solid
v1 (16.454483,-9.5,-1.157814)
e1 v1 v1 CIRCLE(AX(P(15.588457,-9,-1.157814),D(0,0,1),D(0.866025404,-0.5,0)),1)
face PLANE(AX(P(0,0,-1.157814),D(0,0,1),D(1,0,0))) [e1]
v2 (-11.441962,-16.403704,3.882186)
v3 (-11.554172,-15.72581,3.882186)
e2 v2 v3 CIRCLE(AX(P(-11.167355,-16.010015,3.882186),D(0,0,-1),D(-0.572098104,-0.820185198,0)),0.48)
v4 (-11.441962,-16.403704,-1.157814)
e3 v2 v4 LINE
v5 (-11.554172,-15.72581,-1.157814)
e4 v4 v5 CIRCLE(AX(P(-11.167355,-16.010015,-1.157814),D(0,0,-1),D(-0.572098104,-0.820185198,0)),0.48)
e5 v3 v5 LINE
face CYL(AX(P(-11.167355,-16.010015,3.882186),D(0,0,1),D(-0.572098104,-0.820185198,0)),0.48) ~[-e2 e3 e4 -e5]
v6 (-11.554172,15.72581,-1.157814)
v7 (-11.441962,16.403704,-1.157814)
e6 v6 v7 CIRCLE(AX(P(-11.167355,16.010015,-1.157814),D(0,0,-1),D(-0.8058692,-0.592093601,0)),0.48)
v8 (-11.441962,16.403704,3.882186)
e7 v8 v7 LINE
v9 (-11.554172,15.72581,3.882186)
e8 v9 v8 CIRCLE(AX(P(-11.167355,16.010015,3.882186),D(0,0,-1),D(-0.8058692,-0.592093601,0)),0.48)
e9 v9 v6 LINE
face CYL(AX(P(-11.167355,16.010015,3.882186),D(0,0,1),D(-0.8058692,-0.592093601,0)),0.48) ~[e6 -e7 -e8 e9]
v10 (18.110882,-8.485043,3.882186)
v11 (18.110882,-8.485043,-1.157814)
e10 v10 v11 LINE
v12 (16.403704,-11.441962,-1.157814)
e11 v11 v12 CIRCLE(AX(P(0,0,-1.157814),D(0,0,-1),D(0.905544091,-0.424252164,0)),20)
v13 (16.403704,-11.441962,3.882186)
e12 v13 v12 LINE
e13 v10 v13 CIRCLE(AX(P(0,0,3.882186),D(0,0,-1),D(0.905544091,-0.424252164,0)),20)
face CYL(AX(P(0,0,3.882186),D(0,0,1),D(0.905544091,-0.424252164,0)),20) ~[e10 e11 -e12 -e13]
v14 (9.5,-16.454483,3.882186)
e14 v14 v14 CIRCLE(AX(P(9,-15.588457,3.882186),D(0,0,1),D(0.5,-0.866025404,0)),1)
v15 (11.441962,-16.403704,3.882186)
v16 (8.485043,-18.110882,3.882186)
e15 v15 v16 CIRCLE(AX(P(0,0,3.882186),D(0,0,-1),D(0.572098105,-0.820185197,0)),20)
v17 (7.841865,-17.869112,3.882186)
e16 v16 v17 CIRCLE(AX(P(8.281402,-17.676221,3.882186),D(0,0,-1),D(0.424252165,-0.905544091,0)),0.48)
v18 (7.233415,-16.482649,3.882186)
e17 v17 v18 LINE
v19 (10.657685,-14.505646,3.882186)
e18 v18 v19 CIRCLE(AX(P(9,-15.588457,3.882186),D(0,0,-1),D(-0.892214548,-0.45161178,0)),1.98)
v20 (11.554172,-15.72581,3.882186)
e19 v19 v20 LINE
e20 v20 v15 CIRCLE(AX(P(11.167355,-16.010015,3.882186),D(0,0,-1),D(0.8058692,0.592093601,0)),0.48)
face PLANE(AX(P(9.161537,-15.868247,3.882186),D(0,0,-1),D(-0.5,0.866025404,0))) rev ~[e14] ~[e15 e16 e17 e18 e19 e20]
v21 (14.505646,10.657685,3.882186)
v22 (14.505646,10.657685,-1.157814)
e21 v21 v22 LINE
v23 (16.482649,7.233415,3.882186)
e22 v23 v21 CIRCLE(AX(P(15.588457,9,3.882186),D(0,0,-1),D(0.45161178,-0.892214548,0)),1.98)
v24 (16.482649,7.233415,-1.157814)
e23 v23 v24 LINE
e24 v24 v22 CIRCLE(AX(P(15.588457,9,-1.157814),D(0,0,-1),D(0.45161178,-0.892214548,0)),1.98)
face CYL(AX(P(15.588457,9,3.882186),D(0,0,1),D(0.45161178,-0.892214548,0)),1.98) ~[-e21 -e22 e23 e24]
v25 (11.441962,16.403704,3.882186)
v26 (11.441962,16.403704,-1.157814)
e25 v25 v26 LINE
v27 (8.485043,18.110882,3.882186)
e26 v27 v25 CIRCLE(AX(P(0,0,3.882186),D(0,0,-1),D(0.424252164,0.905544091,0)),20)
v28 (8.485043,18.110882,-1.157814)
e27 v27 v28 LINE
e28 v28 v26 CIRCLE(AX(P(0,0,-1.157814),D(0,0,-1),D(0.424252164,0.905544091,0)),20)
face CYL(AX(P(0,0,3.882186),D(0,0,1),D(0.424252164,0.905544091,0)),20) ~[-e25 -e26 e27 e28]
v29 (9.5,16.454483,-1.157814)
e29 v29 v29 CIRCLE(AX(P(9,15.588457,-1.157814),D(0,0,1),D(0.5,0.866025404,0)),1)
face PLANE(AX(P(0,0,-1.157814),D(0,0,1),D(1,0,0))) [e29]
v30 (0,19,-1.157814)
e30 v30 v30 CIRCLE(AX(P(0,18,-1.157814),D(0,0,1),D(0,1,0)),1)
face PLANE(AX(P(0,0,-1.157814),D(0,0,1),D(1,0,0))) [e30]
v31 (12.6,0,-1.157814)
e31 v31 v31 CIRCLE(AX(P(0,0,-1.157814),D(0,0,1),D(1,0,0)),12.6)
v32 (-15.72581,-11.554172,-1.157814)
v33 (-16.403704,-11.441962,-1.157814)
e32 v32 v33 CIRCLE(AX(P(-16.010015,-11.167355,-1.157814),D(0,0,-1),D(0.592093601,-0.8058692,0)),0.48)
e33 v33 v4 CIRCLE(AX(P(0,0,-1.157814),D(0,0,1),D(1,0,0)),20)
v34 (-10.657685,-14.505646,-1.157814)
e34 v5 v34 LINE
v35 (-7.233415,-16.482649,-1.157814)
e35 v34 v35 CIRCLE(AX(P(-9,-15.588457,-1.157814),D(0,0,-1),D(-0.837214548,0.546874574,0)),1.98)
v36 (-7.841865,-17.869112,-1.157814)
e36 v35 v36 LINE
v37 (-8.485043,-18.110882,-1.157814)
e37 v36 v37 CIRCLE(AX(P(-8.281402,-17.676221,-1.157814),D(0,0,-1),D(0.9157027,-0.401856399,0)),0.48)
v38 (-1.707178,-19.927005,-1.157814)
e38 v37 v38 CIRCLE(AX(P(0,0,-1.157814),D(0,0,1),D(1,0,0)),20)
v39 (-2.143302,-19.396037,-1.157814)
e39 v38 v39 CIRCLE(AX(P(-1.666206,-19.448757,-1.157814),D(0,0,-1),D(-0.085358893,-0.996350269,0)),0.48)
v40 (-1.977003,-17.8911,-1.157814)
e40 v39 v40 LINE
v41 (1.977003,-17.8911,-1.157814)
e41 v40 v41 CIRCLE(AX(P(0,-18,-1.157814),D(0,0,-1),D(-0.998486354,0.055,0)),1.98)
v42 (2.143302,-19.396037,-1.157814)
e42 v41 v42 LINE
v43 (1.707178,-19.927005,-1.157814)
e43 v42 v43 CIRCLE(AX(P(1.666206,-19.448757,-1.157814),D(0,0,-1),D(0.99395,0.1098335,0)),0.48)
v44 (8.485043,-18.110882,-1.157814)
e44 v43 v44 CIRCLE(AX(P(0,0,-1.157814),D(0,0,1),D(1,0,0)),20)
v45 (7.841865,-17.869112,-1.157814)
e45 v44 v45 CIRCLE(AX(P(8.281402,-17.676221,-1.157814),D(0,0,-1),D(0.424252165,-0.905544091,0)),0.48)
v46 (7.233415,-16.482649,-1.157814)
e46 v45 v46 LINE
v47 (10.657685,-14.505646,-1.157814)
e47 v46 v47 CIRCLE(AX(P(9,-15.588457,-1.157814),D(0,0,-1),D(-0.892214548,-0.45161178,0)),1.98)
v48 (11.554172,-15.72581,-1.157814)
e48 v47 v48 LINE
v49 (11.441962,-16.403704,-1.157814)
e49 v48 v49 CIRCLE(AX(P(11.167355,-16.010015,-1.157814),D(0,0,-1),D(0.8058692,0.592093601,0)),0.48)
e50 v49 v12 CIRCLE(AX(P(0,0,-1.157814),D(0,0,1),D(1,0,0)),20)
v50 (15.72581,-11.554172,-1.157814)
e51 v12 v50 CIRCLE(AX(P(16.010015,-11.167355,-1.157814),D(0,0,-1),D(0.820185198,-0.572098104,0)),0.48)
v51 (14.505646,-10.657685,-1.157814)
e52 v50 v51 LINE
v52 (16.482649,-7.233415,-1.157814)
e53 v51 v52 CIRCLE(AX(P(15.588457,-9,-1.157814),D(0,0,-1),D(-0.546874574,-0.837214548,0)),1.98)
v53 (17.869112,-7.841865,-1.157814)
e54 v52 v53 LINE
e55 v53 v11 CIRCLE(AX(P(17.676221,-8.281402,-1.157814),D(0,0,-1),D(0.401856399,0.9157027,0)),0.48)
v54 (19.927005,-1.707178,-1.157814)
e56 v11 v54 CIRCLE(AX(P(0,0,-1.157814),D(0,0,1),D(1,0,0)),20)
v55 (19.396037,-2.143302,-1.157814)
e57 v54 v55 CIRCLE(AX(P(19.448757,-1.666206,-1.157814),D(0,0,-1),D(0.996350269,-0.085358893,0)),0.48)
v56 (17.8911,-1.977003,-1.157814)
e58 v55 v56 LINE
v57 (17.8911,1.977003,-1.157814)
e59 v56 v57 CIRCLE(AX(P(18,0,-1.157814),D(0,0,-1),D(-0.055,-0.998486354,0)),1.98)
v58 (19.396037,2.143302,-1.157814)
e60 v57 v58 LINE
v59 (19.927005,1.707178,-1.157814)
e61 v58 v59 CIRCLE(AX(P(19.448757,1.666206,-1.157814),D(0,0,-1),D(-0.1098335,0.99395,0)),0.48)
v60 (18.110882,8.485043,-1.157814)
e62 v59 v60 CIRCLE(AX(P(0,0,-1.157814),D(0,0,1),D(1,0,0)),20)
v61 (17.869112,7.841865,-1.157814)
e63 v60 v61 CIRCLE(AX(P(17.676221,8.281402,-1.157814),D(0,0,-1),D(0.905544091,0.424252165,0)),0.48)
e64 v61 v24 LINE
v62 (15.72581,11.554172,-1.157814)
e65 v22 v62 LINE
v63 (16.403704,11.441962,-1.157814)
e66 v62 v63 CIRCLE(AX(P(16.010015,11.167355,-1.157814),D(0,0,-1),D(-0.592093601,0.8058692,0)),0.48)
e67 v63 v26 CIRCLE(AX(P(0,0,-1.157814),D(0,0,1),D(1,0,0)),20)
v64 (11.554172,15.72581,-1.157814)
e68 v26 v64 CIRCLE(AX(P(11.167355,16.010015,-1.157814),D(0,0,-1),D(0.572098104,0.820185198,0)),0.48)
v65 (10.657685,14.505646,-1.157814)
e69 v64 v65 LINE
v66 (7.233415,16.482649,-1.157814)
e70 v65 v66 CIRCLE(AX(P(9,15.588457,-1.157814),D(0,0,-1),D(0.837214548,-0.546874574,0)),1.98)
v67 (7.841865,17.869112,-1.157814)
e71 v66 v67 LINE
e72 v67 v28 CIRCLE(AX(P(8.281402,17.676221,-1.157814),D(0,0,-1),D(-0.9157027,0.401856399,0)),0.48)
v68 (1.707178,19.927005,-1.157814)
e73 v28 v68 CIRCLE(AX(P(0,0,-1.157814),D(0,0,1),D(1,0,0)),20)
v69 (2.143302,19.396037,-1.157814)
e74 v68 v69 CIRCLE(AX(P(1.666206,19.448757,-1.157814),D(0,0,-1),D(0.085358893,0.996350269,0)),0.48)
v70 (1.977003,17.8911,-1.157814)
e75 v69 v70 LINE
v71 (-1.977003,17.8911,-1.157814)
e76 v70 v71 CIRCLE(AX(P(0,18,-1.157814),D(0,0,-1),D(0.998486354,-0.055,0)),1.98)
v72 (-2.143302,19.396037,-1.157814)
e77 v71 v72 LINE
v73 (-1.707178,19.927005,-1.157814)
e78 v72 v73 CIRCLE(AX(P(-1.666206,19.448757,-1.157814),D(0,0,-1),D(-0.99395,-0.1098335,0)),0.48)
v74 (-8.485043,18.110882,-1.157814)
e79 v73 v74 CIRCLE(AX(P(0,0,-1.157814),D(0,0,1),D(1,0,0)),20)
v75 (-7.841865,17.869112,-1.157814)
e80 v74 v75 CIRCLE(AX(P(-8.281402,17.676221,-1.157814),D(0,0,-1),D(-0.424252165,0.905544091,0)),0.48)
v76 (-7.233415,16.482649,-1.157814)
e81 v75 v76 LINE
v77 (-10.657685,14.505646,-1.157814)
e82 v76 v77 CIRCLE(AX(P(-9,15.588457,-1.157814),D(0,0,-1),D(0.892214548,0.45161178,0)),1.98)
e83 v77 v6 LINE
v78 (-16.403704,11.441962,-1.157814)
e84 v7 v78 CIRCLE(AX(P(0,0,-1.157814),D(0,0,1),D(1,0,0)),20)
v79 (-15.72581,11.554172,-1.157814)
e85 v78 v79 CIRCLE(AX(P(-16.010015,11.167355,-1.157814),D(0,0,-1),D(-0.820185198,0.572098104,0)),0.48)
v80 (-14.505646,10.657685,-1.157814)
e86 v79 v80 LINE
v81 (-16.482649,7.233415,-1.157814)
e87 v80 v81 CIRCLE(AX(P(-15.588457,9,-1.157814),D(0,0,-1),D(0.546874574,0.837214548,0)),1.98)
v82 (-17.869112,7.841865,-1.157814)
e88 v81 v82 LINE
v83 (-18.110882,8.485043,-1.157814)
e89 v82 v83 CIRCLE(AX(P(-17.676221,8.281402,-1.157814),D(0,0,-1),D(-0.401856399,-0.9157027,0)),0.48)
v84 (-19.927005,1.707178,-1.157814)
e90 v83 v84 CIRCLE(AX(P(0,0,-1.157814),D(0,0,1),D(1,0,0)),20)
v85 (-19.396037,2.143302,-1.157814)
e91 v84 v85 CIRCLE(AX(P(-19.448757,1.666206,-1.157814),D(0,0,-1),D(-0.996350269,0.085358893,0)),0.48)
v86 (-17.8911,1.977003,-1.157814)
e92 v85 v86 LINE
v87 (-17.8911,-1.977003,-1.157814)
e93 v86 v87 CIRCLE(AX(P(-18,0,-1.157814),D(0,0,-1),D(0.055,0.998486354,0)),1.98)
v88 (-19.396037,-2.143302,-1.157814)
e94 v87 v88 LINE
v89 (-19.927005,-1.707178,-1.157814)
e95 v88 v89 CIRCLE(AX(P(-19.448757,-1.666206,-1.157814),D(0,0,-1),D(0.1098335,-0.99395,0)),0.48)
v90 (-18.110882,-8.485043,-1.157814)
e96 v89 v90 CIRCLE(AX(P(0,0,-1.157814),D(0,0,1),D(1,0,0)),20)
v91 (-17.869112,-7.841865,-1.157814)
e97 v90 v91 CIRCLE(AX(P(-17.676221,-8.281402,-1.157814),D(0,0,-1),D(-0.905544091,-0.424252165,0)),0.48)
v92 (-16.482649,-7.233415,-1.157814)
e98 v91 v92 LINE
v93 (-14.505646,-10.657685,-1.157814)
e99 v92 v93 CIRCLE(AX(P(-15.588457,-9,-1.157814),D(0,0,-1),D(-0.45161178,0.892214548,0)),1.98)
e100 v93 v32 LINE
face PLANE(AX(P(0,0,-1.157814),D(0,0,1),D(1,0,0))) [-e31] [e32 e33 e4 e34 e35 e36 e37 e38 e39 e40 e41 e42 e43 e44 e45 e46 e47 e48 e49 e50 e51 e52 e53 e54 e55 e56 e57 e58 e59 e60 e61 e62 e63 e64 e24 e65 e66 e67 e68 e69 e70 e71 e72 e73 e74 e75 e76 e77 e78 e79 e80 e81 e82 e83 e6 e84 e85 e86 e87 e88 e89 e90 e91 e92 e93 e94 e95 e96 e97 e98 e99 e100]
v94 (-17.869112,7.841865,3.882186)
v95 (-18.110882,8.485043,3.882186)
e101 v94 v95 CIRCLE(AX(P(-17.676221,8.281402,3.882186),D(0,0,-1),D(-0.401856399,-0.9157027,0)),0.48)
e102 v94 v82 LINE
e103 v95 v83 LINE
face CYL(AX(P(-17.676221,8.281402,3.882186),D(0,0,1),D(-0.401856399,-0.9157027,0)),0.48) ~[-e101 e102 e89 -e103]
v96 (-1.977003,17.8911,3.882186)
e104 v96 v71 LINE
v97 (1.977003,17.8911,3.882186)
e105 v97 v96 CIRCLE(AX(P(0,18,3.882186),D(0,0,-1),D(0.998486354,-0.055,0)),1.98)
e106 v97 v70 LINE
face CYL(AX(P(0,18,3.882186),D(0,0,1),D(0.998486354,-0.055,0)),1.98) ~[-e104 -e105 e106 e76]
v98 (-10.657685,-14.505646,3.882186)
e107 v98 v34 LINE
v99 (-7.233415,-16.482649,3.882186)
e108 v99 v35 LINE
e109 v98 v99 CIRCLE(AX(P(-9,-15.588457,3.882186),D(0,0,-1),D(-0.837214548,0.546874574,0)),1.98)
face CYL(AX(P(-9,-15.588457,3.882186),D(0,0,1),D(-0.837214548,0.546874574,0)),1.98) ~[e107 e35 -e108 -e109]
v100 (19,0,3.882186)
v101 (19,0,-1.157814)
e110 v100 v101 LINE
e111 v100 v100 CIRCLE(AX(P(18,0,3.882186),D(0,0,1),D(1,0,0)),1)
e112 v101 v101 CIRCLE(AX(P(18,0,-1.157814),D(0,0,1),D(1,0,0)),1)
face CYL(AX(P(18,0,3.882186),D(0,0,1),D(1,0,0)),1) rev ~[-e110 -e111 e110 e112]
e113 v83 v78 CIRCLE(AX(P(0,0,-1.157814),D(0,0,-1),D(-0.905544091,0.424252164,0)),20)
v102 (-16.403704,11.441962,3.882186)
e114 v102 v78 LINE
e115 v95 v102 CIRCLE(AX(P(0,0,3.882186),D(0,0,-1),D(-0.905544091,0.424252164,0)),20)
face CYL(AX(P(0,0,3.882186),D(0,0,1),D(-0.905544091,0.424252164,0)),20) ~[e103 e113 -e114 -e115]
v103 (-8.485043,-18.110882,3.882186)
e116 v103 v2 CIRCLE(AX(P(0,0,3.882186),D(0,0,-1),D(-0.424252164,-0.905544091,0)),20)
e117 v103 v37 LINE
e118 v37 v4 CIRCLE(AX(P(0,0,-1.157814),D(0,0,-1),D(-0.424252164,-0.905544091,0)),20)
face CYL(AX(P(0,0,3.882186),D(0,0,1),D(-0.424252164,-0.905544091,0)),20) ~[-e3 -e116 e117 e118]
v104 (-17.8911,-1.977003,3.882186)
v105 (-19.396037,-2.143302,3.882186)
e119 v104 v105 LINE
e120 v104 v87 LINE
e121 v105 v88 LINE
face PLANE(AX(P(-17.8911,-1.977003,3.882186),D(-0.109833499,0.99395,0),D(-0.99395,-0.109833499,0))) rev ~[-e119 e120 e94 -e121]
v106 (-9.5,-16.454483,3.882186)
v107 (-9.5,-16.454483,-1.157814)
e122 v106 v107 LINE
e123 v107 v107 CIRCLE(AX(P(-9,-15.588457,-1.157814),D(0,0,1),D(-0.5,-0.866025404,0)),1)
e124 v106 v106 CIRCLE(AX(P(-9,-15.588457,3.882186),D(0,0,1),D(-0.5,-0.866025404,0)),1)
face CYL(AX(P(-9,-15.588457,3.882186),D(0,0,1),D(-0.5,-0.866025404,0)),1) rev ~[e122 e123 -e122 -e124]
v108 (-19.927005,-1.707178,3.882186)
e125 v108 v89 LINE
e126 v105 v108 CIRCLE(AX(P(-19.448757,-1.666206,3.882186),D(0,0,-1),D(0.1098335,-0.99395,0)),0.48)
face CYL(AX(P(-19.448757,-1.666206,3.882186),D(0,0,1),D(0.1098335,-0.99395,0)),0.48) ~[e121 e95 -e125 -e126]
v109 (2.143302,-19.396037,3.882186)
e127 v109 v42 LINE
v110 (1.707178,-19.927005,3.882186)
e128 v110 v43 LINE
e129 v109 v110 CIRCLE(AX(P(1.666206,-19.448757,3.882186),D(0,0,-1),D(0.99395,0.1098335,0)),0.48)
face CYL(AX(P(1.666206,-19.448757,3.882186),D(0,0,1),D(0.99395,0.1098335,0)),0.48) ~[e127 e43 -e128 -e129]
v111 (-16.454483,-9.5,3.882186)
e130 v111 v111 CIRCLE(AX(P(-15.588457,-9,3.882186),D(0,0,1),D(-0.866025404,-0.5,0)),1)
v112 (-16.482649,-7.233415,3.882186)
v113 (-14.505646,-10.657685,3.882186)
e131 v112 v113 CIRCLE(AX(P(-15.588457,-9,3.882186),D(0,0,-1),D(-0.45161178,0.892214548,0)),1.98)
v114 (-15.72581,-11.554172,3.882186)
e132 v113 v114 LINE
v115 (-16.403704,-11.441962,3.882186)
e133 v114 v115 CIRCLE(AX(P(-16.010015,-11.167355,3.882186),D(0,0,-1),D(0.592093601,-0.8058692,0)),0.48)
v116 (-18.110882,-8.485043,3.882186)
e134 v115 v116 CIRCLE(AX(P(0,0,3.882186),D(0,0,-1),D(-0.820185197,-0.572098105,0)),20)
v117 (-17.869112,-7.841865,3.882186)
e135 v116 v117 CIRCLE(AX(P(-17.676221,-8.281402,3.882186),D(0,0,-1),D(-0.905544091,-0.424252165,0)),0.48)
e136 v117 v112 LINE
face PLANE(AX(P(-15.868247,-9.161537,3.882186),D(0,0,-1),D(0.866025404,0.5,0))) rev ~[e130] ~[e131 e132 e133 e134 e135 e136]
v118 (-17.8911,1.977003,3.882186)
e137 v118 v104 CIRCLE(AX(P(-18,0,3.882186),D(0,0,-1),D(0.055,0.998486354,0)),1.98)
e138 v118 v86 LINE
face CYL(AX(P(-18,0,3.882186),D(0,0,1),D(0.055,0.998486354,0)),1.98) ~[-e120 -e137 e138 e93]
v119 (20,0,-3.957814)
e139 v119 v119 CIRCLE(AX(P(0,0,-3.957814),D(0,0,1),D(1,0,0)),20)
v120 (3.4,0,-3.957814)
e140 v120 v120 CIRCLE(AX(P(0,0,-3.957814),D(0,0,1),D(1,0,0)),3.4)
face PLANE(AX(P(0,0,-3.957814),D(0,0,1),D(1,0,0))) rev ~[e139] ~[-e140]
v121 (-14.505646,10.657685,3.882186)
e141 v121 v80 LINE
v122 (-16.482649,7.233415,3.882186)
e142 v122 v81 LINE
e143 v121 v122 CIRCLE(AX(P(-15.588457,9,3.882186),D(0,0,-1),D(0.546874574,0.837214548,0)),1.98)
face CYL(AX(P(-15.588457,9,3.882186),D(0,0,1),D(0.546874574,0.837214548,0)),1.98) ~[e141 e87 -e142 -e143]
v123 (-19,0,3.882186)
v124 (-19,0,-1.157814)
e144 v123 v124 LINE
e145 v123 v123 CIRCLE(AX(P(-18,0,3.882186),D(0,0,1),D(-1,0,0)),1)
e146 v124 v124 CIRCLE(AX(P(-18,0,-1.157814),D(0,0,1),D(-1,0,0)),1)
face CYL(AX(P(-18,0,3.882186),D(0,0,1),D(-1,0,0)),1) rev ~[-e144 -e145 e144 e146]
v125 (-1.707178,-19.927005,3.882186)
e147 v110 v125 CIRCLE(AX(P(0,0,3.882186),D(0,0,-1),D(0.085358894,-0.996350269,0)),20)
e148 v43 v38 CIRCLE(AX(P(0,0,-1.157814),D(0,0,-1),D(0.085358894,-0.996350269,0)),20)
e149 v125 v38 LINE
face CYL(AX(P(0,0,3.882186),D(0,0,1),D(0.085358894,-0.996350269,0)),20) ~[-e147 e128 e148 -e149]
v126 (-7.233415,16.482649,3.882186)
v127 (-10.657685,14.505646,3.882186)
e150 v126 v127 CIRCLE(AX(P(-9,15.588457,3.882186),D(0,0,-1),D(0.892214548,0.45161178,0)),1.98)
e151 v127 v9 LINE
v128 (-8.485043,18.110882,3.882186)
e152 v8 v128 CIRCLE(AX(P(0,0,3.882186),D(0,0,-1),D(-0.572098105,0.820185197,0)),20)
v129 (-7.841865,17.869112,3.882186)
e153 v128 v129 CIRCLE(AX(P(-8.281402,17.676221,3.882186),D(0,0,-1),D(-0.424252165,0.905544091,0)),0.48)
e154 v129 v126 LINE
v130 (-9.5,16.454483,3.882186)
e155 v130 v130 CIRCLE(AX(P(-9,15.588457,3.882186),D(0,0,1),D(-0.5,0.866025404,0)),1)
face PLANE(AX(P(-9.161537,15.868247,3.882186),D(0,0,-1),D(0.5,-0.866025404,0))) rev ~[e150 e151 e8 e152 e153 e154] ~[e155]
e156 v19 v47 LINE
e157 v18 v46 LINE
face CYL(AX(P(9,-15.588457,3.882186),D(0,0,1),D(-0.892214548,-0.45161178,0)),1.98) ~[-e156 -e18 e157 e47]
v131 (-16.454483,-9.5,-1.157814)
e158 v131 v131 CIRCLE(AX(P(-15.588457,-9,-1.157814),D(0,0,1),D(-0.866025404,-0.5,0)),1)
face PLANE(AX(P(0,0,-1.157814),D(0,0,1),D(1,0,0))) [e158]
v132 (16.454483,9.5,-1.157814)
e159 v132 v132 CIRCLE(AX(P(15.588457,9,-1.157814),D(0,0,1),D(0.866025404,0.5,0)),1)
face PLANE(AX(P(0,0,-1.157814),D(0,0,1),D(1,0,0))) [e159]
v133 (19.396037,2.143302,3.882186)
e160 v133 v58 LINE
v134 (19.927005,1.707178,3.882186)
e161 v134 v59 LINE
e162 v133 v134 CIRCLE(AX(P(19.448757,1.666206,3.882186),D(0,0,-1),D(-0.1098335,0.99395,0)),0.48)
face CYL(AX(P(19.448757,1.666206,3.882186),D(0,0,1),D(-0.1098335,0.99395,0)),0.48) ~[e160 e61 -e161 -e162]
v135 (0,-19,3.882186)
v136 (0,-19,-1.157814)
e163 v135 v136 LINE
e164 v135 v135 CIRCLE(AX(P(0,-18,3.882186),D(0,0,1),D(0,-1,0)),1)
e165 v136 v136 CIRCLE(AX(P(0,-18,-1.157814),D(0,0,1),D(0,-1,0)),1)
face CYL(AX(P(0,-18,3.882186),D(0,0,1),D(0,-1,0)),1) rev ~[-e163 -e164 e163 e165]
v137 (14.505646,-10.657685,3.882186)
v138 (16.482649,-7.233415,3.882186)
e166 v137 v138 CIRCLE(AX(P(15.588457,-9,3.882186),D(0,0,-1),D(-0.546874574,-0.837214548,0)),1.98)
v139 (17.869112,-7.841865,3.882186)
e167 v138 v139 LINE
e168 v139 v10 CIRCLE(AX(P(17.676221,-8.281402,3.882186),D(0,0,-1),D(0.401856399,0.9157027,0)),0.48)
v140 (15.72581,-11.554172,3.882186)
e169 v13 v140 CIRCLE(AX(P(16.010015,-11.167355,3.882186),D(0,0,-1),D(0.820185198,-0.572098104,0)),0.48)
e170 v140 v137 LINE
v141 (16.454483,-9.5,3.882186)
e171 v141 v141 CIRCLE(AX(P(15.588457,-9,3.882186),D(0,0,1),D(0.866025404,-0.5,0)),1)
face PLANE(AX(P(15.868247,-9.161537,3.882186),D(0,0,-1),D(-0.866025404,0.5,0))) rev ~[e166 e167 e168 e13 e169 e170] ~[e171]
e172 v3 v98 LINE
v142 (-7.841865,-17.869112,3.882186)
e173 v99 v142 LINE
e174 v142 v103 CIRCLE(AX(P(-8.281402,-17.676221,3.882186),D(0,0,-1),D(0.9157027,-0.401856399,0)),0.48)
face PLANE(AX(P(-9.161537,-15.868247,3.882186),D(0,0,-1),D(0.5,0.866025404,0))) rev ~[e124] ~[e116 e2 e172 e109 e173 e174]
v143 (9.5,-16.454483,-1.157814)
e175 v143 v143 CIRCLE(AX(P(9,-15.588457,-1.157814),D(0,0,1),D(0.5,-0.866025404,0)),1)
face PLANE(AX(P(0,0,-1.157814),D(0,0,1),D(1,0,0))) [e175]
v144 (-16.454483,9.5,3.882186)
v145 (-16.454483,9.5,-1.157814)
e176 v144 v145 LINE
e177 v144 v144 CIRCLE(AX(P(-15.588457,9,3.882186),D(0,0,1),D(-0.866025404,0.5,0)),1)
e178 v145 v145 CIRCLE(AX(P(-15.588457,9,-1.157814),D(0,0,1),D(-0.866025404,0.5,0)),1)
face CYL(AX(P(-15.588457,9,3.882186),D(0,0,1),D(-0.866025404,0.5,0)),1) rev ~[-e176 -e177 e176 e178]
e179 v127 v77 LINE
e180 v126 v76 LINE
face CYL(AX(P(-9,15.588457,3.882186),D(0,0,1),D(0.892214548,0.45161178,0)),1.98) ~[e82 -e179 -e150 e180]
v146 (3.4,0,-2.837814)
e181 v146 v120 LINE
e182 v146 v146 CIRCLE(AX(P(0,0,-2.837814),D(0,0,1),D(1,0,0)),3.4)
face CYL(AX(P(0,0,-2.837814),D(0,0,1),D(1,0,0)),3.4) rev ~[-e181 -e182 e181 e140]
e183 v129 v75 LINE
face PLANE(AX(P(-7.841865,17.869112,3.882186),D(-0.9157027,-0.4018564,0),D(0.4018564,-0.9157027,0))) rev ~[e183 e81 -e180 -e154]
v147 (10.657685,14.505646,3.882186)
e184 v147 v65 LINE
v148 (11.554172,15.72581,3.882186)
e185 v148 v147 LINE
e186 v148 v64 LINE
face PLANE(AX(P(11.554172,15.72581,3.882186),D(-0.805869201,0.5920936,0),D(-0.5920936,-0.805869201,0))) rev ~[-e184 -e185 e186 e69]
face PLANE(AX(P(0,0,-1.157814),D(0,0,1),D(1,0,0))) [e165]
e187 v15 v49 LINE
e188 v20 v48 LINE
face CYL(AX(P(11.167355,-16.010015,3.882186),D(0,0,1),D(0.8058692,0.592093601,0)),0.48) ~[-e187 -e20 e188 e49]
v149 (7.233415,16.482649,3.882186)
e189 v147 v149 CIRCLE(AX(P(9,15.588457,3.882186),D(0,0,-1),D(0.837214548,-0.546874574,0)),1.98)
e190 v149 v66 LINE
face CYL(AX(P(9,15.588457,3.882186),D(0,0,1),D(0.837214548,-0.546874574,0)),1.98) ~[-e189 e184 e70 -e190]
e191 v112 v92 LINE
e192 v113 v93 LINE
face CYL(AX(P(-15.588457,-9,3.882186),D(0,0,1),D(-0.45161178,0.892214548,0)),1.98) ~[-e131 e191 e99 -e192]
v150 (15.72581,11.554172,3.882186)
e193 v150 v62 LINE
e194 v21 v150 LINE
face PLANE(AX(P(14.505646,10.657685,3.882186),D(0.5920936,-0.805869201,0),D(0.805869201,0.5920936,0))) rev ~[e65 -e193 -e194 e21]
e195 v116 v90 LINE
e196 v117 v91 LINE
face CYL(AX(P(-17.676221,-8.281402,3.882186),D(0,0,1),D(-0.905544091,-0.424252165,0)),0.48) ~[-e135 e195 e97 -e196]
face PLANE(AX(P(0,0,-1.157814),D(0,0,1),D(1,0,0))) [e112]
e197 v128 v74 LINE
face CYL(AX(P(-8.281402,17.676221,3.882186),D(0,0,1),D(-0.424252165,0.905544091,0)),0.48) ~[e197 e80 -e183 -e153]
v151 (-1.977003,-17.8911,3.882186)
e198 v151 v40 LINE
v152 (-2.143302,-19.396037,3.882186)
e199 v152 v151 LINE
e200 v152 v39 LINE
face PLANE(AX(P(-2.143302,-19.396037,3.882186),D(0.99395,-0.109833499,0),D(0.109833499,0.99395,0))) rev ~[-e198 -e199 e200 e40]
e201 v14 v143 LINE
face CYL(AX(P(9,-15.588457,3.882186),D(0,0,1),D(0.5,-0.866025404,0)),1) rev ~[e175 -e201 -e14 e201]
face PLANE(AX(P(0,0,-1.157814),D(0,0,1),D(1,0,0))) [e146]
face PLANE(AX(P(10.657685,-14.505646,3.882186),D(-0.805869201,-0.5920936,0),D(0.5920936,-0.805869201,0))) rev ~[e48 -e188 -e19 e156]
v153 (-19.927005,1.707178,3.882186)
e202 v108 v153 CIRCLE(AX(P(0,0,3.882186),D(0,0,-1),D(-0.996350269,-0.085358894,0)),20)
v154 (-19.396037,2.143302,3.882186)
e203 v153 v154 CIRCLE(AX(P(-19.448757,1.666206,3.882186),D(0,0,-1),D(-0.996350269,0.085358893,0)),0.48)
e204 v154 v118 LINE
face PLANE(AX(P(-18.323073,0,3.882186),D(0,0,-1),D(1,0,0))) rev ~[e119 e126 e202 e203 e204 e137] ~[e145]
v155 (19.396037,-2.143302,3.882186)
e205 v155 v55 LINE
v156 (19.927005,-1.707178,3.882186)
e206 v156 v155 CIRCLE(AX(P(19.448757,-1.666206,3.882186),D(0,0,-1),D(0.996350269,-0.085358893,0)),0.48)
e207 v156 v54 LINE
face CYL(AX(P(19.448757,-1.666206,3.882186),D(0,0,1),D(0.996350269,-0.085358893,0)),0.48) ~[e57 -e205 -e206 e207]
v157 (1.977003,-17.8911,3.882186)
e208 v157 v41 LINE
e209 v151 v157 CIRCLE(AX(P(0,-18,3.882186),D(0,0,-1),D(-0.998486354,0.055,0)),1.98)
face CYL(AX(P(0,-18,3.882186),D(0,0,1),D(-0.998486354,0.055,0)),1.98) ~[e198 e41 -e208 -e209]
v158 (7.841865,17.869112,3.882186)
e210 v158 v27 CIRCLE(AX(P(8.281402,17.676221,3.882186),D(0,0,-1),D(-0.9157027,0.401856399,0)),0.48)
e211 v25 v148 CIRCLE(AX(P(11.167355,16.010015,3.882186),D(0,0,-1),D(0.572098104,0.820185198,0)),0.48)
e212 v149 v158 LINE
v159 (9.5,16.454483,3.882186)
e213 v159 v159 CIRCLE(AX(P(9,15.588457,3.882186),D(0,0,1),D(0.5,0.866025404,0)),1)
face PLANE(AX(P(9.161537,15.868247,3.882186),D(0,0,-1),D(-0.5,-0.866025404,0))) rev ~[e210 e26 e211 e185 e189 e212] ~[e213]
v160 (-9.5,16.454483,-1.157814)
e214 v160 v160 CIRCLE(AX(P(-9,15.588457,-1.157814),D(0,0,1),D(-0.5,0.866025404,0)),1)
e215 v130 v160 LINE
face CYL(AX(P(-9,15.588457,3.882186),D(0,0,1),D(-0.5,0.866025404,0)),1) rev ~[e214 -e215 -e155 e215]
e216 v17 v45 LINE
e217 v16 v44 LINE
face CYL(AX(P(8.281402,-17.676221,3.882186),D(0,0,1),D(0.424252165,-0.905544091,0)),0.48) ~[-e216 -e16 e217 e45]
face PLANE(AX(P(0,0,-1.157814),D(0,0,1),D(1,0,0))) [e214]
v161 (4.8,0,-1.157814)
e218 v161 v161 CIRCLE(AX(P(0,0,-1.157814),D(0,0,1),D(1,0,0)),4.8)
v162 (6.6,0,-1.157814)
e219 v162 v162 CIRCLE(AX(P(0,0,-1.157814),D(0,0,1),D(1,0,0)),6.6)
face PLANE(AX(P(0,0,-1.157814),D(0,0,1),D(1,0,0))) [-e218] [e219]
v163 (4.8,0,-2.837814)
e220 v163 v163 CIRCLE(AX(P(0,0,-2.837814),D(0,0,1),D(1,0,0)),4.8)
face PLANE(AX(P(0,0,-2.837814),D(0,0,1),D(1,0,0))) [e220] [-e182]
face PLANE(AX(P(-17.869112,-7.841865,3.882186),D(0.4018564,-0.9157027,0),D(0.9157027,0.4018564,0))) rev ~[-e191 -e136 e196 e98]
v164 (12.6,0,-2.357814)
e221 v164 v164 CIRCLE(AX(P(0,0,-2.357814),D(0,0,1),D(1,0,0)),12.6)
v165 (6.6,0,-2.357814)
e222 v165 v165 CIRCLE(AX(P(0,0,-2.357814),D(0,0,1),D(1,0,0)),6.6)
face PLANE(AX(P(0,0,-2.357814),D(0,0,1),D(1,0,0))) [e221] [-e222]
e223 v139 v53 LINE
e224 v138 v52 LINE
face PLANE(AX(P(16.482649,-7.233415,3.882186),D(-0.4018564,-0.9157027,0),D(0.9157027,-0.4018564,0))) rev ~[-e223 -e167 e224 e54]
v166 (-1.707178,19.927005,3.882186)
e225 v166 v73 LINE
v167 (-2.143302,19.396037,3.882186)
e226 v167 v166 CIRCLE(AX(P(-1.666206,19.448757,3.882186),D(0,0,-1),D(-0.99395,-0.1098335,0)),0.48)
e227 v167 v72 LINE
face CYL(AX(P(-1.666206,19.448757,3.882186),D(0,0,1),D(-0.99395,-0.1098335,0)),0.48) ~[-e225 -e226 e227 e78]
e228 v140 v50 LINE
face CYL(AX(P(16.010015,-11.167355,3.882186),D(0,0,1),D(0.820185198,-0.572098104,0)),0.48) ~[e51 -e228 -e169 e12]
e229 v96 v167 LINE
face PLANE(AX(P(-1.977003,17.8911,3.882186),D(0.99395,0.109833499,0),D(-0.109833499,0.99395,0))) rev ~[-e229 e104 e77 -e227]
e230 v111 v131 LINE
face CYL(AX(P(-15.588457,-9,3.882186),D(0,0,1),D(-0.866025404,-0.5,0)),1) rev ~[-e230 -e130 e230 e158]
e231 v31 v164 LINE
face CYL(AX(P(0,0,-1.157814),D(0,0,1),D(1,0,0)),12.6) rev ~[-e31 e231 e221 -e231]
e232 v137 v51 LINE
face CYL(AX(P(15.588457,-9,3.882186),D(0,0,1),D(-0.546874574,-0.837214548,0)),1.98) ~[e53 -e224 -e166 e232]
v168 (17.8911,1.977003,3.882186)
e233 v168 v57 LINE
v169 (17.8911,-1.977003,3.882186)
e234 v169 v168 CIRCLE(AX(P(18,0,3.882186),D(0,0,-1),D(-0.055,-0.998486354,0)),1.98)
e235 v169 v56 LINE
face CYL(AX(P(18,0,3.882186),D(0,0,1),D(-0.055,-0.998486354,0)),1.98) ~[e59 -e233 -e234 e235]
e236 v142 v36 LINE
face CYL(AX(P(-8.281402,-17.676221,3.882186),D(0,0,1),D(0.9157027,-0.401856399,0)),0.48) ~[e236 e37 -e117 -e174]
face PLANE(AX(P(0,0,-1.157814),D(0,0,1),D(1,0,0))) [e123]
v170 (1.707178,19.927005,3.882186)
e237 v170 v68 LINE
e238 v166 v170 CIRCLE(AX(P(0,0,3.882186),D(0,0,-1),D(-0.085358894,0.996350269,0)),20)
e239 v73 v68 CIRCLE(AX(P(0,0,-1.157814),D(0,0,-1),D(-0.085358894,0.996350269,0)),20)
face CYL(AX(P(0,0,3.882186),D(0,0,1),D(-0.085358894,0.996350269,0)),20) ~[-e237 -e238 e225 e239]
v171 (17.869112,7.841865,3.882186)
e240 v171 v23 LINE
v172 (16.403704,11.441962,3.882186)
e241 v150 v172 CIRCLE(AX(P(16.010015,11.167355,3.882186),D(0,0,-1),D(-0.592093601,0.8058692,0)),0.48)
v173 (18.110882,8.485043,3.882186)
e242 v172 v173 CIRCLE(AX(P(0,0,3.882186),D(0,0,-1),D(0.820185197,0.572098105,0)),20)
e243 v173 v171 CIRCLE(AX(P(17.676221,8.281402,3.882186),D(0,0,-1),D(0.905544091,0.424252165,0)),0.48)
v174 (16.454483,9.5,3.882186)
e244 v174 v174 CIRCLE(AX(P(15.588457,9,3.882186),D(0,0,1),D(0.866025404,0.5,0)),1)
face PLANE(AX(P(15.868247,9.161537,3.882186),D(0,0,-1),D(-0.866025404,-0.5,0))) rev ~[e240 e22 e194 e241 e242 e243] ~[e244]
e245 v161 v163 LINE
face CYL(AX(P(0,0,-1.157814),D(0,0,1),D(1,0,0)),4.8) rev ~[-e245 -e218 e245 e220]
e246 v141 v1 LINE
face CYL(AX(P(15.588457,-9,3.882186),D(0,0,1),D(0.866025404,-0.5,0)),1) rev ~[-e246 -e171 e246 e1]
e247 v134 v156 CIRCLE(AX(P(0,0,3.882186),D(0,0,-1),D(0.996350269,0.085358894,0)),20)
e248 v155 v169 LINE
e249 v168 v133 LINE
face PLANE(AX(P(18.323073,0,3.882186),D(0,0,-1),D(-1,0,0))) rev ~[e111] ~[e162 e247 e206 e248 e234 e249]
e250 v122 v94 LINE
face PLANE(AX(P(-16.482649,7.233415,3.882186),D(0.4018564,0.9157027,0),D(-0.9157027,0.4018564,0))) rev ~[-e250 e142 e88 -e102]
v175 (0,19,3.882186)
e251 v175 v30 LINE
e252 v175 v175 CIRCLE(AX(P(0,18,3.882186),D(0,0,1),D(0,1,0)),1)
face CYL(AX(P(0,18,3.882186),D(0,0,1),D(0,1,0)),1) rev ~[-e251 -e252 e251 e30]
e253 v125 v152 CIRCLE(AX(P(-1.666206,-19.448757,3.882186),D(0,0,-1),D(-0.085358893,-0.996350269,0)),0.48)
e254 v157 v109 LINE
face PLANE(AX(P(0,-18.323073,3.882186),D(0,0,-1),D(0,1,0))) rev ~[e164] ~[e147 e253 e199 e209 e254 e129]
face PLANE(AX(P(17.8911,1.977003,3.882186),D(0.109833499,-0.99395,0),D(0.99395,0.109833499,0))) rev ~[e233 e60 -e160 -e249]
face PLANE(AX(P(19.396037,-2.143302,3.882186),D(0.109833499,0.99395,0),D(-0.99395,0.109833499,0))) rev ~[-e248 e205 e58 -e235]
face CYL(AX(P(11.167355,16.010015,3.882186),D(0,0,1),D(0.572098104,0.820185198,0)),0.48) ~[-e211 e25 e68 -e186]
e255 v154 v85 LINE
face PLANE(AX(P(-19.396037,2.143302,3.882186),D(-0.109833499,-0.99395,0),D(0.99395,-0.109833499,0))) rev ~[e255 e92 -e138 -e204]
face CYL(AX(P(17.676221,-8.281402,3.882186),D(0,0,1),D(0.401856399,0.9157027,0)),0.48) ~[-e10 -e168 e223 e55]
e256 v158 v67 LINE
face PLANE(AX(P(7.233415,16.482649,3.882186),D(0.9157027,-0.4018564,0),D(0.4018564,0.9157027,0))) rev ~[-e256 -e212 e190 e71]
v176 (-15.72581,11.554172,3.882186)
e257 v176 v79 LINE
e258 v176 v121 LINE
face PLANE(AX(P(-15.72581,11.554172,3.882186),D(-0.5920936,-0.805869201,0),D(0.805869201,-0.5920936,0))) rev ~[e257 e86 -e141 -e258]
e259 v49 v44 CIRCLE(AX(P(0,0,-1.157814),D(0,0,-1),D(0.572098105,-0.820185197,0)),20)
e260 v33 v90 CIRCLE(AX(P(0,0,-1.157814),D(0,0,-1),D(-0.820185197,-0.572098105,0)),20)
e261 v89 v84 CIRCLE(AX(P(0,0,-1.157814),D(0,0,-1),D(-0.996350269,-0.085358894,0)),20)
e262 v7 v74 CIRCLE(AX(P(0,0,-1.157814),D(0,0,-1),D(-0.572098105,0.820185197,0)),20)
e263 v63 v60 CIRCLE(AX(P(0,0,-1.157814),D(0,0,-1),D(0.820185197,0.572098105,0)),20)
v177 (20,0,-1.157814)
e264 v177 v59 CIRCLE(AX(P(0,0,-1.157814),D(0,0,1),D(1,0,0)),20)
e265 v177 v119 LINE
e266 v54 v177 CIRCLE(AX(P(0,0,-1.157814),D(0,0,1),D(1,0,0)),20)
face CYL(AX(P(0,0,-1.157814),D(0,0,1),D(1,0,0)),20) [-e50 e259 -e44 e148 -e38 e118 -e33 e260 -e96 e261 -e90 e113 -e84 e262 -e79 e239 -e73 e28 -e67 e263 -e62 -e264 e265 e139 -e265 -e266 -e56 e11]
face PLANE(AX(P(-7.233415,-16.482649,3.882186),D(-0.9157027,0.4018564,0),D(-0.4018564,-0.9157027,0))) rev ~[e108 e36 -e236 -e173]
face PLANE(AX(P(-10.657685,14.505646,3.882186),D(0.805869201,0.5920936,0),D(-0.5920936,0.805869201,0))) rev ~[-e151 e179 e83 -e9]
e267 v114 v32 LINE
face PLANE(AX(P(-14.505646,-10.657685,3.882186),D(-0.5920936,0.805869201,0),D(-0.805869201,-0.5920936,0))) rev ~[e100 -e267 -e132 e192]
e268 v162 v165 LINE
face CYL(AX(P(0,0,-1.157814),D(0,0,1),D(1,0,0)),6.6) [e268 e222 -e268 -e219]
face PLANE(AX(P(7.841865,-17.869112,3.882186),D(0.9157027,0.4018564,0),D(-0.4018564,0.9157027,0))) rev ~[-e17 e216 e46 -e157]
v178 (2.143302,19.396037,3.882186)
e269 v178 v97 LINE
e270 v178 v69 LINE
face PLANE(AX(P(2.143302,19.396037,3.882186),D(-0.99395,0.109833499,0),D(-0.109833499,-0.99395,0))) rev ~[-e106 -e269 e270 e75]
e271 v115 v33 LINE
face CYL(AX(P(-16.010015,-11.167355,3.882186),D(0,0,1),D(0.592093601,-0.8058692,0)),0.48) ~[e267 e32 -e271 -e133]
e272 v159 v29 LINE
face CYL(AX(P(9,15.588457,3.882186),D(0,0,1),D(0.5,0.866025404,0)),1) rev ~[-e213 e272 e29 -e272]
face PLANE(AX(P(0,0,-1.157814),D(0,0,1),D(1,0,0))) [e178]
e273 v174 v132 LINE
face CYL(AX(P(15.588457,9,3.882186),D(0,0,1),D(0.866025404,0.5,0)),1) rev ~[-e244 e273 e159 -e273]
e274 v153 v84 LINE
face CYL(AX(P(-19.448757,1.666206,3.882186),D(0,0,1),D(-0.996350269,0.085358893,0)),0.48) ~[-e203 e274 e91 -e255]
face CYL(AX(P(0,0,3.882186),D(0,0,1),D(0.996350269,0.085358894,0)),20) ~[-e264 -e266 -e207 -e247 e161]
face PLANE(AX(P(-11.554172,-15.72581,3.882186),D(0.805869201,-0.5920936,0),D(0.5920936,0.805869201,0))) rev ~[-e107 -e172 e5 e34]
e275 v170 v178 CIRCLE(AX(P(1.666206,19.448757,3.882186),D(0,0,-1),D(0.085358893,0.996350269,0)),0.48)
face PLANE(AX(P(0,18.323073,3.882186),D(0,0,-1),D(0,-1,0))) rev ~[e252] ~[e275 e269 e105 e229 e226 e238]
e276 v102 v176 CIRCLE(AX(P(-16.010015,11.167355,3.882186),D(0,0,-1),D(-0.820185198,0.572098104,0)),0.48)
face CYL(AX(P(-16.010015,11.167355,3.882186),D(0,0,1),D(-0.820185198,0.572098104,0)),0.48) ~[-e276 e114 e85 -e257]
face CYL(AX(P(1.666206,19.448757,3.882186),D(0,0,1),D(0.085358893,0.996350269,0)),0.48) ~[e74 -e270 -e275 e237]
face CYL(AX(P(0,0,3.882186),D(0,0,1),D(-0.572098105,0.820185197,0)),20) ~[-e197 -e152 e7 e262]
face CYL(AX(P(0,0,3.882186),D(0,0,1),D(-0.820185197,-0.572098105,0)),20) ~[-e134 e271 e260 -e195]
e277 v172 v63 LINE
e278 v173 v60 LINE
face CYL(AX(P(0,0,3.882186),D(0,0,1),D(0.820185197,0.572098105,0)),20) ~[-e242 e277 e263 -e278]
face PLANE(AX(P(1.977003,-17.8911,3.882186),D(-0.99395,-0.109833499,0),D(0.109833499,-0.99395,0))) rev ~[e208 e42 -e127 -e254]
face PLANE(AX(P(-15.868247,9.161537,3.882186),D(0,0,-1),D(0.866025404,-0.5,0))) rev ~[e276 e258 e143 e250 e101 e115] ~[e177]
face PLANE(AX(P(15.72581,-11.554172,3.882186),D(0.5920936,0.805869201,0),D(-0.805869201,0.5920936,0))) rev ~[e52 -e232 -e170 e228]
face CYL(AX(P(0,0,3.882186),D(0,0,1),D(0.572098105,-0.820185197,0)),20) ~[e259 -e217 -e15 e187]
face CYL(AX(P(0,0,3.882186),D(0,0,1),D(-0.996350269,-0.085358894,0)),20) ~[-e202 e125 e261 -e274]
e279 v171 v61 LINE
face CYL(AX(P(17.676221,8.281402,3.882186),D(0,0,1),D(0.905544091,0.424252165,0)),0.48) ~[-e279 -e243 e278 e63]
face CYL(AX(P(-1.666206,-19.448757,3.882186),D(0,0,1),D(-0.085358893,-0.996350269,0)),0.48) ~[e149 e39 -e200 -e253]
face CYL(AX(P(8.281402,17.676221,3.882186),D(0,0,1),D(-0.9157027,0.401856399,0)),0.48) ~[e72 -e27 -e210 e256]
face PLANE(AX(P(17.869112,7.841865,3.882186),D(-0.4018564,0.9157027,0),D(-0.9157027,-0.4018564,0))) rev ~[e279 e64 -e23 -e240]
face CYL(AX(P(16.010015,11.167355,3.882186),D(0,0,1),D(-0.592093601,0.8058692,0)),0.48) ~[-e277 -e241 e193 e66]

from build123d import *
from build123d.topology import SkipClean

# Parameters (mm, degrees)
SKETCH1_R           = 50
BOSS_EXTRUDE1_DEPTH = 7
BOSS_EXTRUDE2_START = 12.6
SKETCH2_R           = 2.5
BOSS_EXTRUDE2_DEPTH = 12.6
CIRPATTERN1_COUNT   = 12
SKETCH3_R           = 12
CUT_EXTRUDE1_DEPTH  = 72.824508352
SKETCH4_R           = 31.5
SKETCH4_R_2         = 16.5
CUT_EXTRUDE2_DEPTH  = 3
BOSS_EXTRUDE3_START = -4.2
SKETCH5_R           = 12
SKETCH5_R_2         = 8.5
BOSS_EXTRUDE3_DEPTH = 2.8
SCALE1_SCALE        = 0.4


with BuildPart() as part:
    # Sketch1 → Boss-Extrude1 (new body)
    with BuildSketch(Plane.XY):
        Circle(SKETCH1_R)
    extrude(amount=-BOSS_EXTRUDE1_DEPTH)

    # Sketch2 → Boss-Extrude2 (add)
    with BuildSketch(Plane.XY.offset(BOSS_EXTRUDE2_START)):
        with BuildLine():
            Line((44.72775, 4.942507454), (48.490092946, 5.358254011))
            ThreePointArc((48.490092946, 5.358254011), (49.383550497, 5.092810123), (49.817513468, 4.267944684))
            ThreePointArc((49.817513468, 4.267944684), (50, 0), (49.817513468, -4.267944684))
            ThreePointArc((49.817513468, -4.267944684), (49.383550497, -5.092810123), (48.490092946, -5.358254011))
            Line((48.490092946, -5.358254011), (44.72775, -4.942507454))
            ThreePointArc((44.72775, -4.942507454), (40.05, 0), (44.72775, 4.942507454))
        make_face()
        with Locations((45, 0)):
            Circle(SKETCH2_R, mode=Mode.SUBTRACT)
    boss_extrude2 = extrude(amount=-BOSS_EXTRUDE2_DEPTH)

    # CirPattern1: Boss-Extrude2 ×12 about axis
    with SkipClean():  # the faces are left unmerged after this step: merging them gives an invalid solid
        cirpattern1_axis = Axis((0, 0, 0), (0, 0, 1))
        for i in range(1, CIRPATTERN1_COUNT):
            add(boss_extrude2.rotate(cirpattern1_axis, i * 360 / CIRPATTERN1_COUNT))

    # Sketch3 → Cut-Extrude1 (cut, through all)
    with SkipClean():  # the faces are left unmerged after this step: merging them gives an invalid solid
        with BuildSketch(Plane.XY):
            Circle(SKETCH3_R)
        extrude(amount=-CUT_EXTRUDE1_DEPTH, mode=Mode.SUBTRACT)

    # Sketch4 → Cut-Extrude2 (cut)
    with SkipClean():  # the faces are left unmerged after this step: merging them gives an invalid solid
        with BuildSketch(Plane.XY):
            Circle(SKETCH4_R)
            Circle(SKETCH4_R_2, mode=Mode.SUBTRACT)
        extrude(amount=-CUT_EXTRUDE2_DEPTH, mode=Mode.SUBTRACT)

    # Sketch5 → Boss-Extrude3 (add)
    with SkipClean():  # the faces are left unmerged after this step: merging them gives an invalid solid
        with BuildSketch(Plane.XY.offset(BOSS_EXTRUDE3_START)):
            Circle(SKETCH5_R)
            Circle(SKETCH5_R_2, mode=Mode.SUBTRACT)
        extrude(amount=-BOSS_EXTRUDE3_DEPTH)


with BuildPart() as part_1:
    # Scale1: scaled about (0, 0, -1.929689798)
    add(part.part.scale(SCALE1_SCALE).moved(Location((0, 0, -1.157813879))))


solid = part_1.part
